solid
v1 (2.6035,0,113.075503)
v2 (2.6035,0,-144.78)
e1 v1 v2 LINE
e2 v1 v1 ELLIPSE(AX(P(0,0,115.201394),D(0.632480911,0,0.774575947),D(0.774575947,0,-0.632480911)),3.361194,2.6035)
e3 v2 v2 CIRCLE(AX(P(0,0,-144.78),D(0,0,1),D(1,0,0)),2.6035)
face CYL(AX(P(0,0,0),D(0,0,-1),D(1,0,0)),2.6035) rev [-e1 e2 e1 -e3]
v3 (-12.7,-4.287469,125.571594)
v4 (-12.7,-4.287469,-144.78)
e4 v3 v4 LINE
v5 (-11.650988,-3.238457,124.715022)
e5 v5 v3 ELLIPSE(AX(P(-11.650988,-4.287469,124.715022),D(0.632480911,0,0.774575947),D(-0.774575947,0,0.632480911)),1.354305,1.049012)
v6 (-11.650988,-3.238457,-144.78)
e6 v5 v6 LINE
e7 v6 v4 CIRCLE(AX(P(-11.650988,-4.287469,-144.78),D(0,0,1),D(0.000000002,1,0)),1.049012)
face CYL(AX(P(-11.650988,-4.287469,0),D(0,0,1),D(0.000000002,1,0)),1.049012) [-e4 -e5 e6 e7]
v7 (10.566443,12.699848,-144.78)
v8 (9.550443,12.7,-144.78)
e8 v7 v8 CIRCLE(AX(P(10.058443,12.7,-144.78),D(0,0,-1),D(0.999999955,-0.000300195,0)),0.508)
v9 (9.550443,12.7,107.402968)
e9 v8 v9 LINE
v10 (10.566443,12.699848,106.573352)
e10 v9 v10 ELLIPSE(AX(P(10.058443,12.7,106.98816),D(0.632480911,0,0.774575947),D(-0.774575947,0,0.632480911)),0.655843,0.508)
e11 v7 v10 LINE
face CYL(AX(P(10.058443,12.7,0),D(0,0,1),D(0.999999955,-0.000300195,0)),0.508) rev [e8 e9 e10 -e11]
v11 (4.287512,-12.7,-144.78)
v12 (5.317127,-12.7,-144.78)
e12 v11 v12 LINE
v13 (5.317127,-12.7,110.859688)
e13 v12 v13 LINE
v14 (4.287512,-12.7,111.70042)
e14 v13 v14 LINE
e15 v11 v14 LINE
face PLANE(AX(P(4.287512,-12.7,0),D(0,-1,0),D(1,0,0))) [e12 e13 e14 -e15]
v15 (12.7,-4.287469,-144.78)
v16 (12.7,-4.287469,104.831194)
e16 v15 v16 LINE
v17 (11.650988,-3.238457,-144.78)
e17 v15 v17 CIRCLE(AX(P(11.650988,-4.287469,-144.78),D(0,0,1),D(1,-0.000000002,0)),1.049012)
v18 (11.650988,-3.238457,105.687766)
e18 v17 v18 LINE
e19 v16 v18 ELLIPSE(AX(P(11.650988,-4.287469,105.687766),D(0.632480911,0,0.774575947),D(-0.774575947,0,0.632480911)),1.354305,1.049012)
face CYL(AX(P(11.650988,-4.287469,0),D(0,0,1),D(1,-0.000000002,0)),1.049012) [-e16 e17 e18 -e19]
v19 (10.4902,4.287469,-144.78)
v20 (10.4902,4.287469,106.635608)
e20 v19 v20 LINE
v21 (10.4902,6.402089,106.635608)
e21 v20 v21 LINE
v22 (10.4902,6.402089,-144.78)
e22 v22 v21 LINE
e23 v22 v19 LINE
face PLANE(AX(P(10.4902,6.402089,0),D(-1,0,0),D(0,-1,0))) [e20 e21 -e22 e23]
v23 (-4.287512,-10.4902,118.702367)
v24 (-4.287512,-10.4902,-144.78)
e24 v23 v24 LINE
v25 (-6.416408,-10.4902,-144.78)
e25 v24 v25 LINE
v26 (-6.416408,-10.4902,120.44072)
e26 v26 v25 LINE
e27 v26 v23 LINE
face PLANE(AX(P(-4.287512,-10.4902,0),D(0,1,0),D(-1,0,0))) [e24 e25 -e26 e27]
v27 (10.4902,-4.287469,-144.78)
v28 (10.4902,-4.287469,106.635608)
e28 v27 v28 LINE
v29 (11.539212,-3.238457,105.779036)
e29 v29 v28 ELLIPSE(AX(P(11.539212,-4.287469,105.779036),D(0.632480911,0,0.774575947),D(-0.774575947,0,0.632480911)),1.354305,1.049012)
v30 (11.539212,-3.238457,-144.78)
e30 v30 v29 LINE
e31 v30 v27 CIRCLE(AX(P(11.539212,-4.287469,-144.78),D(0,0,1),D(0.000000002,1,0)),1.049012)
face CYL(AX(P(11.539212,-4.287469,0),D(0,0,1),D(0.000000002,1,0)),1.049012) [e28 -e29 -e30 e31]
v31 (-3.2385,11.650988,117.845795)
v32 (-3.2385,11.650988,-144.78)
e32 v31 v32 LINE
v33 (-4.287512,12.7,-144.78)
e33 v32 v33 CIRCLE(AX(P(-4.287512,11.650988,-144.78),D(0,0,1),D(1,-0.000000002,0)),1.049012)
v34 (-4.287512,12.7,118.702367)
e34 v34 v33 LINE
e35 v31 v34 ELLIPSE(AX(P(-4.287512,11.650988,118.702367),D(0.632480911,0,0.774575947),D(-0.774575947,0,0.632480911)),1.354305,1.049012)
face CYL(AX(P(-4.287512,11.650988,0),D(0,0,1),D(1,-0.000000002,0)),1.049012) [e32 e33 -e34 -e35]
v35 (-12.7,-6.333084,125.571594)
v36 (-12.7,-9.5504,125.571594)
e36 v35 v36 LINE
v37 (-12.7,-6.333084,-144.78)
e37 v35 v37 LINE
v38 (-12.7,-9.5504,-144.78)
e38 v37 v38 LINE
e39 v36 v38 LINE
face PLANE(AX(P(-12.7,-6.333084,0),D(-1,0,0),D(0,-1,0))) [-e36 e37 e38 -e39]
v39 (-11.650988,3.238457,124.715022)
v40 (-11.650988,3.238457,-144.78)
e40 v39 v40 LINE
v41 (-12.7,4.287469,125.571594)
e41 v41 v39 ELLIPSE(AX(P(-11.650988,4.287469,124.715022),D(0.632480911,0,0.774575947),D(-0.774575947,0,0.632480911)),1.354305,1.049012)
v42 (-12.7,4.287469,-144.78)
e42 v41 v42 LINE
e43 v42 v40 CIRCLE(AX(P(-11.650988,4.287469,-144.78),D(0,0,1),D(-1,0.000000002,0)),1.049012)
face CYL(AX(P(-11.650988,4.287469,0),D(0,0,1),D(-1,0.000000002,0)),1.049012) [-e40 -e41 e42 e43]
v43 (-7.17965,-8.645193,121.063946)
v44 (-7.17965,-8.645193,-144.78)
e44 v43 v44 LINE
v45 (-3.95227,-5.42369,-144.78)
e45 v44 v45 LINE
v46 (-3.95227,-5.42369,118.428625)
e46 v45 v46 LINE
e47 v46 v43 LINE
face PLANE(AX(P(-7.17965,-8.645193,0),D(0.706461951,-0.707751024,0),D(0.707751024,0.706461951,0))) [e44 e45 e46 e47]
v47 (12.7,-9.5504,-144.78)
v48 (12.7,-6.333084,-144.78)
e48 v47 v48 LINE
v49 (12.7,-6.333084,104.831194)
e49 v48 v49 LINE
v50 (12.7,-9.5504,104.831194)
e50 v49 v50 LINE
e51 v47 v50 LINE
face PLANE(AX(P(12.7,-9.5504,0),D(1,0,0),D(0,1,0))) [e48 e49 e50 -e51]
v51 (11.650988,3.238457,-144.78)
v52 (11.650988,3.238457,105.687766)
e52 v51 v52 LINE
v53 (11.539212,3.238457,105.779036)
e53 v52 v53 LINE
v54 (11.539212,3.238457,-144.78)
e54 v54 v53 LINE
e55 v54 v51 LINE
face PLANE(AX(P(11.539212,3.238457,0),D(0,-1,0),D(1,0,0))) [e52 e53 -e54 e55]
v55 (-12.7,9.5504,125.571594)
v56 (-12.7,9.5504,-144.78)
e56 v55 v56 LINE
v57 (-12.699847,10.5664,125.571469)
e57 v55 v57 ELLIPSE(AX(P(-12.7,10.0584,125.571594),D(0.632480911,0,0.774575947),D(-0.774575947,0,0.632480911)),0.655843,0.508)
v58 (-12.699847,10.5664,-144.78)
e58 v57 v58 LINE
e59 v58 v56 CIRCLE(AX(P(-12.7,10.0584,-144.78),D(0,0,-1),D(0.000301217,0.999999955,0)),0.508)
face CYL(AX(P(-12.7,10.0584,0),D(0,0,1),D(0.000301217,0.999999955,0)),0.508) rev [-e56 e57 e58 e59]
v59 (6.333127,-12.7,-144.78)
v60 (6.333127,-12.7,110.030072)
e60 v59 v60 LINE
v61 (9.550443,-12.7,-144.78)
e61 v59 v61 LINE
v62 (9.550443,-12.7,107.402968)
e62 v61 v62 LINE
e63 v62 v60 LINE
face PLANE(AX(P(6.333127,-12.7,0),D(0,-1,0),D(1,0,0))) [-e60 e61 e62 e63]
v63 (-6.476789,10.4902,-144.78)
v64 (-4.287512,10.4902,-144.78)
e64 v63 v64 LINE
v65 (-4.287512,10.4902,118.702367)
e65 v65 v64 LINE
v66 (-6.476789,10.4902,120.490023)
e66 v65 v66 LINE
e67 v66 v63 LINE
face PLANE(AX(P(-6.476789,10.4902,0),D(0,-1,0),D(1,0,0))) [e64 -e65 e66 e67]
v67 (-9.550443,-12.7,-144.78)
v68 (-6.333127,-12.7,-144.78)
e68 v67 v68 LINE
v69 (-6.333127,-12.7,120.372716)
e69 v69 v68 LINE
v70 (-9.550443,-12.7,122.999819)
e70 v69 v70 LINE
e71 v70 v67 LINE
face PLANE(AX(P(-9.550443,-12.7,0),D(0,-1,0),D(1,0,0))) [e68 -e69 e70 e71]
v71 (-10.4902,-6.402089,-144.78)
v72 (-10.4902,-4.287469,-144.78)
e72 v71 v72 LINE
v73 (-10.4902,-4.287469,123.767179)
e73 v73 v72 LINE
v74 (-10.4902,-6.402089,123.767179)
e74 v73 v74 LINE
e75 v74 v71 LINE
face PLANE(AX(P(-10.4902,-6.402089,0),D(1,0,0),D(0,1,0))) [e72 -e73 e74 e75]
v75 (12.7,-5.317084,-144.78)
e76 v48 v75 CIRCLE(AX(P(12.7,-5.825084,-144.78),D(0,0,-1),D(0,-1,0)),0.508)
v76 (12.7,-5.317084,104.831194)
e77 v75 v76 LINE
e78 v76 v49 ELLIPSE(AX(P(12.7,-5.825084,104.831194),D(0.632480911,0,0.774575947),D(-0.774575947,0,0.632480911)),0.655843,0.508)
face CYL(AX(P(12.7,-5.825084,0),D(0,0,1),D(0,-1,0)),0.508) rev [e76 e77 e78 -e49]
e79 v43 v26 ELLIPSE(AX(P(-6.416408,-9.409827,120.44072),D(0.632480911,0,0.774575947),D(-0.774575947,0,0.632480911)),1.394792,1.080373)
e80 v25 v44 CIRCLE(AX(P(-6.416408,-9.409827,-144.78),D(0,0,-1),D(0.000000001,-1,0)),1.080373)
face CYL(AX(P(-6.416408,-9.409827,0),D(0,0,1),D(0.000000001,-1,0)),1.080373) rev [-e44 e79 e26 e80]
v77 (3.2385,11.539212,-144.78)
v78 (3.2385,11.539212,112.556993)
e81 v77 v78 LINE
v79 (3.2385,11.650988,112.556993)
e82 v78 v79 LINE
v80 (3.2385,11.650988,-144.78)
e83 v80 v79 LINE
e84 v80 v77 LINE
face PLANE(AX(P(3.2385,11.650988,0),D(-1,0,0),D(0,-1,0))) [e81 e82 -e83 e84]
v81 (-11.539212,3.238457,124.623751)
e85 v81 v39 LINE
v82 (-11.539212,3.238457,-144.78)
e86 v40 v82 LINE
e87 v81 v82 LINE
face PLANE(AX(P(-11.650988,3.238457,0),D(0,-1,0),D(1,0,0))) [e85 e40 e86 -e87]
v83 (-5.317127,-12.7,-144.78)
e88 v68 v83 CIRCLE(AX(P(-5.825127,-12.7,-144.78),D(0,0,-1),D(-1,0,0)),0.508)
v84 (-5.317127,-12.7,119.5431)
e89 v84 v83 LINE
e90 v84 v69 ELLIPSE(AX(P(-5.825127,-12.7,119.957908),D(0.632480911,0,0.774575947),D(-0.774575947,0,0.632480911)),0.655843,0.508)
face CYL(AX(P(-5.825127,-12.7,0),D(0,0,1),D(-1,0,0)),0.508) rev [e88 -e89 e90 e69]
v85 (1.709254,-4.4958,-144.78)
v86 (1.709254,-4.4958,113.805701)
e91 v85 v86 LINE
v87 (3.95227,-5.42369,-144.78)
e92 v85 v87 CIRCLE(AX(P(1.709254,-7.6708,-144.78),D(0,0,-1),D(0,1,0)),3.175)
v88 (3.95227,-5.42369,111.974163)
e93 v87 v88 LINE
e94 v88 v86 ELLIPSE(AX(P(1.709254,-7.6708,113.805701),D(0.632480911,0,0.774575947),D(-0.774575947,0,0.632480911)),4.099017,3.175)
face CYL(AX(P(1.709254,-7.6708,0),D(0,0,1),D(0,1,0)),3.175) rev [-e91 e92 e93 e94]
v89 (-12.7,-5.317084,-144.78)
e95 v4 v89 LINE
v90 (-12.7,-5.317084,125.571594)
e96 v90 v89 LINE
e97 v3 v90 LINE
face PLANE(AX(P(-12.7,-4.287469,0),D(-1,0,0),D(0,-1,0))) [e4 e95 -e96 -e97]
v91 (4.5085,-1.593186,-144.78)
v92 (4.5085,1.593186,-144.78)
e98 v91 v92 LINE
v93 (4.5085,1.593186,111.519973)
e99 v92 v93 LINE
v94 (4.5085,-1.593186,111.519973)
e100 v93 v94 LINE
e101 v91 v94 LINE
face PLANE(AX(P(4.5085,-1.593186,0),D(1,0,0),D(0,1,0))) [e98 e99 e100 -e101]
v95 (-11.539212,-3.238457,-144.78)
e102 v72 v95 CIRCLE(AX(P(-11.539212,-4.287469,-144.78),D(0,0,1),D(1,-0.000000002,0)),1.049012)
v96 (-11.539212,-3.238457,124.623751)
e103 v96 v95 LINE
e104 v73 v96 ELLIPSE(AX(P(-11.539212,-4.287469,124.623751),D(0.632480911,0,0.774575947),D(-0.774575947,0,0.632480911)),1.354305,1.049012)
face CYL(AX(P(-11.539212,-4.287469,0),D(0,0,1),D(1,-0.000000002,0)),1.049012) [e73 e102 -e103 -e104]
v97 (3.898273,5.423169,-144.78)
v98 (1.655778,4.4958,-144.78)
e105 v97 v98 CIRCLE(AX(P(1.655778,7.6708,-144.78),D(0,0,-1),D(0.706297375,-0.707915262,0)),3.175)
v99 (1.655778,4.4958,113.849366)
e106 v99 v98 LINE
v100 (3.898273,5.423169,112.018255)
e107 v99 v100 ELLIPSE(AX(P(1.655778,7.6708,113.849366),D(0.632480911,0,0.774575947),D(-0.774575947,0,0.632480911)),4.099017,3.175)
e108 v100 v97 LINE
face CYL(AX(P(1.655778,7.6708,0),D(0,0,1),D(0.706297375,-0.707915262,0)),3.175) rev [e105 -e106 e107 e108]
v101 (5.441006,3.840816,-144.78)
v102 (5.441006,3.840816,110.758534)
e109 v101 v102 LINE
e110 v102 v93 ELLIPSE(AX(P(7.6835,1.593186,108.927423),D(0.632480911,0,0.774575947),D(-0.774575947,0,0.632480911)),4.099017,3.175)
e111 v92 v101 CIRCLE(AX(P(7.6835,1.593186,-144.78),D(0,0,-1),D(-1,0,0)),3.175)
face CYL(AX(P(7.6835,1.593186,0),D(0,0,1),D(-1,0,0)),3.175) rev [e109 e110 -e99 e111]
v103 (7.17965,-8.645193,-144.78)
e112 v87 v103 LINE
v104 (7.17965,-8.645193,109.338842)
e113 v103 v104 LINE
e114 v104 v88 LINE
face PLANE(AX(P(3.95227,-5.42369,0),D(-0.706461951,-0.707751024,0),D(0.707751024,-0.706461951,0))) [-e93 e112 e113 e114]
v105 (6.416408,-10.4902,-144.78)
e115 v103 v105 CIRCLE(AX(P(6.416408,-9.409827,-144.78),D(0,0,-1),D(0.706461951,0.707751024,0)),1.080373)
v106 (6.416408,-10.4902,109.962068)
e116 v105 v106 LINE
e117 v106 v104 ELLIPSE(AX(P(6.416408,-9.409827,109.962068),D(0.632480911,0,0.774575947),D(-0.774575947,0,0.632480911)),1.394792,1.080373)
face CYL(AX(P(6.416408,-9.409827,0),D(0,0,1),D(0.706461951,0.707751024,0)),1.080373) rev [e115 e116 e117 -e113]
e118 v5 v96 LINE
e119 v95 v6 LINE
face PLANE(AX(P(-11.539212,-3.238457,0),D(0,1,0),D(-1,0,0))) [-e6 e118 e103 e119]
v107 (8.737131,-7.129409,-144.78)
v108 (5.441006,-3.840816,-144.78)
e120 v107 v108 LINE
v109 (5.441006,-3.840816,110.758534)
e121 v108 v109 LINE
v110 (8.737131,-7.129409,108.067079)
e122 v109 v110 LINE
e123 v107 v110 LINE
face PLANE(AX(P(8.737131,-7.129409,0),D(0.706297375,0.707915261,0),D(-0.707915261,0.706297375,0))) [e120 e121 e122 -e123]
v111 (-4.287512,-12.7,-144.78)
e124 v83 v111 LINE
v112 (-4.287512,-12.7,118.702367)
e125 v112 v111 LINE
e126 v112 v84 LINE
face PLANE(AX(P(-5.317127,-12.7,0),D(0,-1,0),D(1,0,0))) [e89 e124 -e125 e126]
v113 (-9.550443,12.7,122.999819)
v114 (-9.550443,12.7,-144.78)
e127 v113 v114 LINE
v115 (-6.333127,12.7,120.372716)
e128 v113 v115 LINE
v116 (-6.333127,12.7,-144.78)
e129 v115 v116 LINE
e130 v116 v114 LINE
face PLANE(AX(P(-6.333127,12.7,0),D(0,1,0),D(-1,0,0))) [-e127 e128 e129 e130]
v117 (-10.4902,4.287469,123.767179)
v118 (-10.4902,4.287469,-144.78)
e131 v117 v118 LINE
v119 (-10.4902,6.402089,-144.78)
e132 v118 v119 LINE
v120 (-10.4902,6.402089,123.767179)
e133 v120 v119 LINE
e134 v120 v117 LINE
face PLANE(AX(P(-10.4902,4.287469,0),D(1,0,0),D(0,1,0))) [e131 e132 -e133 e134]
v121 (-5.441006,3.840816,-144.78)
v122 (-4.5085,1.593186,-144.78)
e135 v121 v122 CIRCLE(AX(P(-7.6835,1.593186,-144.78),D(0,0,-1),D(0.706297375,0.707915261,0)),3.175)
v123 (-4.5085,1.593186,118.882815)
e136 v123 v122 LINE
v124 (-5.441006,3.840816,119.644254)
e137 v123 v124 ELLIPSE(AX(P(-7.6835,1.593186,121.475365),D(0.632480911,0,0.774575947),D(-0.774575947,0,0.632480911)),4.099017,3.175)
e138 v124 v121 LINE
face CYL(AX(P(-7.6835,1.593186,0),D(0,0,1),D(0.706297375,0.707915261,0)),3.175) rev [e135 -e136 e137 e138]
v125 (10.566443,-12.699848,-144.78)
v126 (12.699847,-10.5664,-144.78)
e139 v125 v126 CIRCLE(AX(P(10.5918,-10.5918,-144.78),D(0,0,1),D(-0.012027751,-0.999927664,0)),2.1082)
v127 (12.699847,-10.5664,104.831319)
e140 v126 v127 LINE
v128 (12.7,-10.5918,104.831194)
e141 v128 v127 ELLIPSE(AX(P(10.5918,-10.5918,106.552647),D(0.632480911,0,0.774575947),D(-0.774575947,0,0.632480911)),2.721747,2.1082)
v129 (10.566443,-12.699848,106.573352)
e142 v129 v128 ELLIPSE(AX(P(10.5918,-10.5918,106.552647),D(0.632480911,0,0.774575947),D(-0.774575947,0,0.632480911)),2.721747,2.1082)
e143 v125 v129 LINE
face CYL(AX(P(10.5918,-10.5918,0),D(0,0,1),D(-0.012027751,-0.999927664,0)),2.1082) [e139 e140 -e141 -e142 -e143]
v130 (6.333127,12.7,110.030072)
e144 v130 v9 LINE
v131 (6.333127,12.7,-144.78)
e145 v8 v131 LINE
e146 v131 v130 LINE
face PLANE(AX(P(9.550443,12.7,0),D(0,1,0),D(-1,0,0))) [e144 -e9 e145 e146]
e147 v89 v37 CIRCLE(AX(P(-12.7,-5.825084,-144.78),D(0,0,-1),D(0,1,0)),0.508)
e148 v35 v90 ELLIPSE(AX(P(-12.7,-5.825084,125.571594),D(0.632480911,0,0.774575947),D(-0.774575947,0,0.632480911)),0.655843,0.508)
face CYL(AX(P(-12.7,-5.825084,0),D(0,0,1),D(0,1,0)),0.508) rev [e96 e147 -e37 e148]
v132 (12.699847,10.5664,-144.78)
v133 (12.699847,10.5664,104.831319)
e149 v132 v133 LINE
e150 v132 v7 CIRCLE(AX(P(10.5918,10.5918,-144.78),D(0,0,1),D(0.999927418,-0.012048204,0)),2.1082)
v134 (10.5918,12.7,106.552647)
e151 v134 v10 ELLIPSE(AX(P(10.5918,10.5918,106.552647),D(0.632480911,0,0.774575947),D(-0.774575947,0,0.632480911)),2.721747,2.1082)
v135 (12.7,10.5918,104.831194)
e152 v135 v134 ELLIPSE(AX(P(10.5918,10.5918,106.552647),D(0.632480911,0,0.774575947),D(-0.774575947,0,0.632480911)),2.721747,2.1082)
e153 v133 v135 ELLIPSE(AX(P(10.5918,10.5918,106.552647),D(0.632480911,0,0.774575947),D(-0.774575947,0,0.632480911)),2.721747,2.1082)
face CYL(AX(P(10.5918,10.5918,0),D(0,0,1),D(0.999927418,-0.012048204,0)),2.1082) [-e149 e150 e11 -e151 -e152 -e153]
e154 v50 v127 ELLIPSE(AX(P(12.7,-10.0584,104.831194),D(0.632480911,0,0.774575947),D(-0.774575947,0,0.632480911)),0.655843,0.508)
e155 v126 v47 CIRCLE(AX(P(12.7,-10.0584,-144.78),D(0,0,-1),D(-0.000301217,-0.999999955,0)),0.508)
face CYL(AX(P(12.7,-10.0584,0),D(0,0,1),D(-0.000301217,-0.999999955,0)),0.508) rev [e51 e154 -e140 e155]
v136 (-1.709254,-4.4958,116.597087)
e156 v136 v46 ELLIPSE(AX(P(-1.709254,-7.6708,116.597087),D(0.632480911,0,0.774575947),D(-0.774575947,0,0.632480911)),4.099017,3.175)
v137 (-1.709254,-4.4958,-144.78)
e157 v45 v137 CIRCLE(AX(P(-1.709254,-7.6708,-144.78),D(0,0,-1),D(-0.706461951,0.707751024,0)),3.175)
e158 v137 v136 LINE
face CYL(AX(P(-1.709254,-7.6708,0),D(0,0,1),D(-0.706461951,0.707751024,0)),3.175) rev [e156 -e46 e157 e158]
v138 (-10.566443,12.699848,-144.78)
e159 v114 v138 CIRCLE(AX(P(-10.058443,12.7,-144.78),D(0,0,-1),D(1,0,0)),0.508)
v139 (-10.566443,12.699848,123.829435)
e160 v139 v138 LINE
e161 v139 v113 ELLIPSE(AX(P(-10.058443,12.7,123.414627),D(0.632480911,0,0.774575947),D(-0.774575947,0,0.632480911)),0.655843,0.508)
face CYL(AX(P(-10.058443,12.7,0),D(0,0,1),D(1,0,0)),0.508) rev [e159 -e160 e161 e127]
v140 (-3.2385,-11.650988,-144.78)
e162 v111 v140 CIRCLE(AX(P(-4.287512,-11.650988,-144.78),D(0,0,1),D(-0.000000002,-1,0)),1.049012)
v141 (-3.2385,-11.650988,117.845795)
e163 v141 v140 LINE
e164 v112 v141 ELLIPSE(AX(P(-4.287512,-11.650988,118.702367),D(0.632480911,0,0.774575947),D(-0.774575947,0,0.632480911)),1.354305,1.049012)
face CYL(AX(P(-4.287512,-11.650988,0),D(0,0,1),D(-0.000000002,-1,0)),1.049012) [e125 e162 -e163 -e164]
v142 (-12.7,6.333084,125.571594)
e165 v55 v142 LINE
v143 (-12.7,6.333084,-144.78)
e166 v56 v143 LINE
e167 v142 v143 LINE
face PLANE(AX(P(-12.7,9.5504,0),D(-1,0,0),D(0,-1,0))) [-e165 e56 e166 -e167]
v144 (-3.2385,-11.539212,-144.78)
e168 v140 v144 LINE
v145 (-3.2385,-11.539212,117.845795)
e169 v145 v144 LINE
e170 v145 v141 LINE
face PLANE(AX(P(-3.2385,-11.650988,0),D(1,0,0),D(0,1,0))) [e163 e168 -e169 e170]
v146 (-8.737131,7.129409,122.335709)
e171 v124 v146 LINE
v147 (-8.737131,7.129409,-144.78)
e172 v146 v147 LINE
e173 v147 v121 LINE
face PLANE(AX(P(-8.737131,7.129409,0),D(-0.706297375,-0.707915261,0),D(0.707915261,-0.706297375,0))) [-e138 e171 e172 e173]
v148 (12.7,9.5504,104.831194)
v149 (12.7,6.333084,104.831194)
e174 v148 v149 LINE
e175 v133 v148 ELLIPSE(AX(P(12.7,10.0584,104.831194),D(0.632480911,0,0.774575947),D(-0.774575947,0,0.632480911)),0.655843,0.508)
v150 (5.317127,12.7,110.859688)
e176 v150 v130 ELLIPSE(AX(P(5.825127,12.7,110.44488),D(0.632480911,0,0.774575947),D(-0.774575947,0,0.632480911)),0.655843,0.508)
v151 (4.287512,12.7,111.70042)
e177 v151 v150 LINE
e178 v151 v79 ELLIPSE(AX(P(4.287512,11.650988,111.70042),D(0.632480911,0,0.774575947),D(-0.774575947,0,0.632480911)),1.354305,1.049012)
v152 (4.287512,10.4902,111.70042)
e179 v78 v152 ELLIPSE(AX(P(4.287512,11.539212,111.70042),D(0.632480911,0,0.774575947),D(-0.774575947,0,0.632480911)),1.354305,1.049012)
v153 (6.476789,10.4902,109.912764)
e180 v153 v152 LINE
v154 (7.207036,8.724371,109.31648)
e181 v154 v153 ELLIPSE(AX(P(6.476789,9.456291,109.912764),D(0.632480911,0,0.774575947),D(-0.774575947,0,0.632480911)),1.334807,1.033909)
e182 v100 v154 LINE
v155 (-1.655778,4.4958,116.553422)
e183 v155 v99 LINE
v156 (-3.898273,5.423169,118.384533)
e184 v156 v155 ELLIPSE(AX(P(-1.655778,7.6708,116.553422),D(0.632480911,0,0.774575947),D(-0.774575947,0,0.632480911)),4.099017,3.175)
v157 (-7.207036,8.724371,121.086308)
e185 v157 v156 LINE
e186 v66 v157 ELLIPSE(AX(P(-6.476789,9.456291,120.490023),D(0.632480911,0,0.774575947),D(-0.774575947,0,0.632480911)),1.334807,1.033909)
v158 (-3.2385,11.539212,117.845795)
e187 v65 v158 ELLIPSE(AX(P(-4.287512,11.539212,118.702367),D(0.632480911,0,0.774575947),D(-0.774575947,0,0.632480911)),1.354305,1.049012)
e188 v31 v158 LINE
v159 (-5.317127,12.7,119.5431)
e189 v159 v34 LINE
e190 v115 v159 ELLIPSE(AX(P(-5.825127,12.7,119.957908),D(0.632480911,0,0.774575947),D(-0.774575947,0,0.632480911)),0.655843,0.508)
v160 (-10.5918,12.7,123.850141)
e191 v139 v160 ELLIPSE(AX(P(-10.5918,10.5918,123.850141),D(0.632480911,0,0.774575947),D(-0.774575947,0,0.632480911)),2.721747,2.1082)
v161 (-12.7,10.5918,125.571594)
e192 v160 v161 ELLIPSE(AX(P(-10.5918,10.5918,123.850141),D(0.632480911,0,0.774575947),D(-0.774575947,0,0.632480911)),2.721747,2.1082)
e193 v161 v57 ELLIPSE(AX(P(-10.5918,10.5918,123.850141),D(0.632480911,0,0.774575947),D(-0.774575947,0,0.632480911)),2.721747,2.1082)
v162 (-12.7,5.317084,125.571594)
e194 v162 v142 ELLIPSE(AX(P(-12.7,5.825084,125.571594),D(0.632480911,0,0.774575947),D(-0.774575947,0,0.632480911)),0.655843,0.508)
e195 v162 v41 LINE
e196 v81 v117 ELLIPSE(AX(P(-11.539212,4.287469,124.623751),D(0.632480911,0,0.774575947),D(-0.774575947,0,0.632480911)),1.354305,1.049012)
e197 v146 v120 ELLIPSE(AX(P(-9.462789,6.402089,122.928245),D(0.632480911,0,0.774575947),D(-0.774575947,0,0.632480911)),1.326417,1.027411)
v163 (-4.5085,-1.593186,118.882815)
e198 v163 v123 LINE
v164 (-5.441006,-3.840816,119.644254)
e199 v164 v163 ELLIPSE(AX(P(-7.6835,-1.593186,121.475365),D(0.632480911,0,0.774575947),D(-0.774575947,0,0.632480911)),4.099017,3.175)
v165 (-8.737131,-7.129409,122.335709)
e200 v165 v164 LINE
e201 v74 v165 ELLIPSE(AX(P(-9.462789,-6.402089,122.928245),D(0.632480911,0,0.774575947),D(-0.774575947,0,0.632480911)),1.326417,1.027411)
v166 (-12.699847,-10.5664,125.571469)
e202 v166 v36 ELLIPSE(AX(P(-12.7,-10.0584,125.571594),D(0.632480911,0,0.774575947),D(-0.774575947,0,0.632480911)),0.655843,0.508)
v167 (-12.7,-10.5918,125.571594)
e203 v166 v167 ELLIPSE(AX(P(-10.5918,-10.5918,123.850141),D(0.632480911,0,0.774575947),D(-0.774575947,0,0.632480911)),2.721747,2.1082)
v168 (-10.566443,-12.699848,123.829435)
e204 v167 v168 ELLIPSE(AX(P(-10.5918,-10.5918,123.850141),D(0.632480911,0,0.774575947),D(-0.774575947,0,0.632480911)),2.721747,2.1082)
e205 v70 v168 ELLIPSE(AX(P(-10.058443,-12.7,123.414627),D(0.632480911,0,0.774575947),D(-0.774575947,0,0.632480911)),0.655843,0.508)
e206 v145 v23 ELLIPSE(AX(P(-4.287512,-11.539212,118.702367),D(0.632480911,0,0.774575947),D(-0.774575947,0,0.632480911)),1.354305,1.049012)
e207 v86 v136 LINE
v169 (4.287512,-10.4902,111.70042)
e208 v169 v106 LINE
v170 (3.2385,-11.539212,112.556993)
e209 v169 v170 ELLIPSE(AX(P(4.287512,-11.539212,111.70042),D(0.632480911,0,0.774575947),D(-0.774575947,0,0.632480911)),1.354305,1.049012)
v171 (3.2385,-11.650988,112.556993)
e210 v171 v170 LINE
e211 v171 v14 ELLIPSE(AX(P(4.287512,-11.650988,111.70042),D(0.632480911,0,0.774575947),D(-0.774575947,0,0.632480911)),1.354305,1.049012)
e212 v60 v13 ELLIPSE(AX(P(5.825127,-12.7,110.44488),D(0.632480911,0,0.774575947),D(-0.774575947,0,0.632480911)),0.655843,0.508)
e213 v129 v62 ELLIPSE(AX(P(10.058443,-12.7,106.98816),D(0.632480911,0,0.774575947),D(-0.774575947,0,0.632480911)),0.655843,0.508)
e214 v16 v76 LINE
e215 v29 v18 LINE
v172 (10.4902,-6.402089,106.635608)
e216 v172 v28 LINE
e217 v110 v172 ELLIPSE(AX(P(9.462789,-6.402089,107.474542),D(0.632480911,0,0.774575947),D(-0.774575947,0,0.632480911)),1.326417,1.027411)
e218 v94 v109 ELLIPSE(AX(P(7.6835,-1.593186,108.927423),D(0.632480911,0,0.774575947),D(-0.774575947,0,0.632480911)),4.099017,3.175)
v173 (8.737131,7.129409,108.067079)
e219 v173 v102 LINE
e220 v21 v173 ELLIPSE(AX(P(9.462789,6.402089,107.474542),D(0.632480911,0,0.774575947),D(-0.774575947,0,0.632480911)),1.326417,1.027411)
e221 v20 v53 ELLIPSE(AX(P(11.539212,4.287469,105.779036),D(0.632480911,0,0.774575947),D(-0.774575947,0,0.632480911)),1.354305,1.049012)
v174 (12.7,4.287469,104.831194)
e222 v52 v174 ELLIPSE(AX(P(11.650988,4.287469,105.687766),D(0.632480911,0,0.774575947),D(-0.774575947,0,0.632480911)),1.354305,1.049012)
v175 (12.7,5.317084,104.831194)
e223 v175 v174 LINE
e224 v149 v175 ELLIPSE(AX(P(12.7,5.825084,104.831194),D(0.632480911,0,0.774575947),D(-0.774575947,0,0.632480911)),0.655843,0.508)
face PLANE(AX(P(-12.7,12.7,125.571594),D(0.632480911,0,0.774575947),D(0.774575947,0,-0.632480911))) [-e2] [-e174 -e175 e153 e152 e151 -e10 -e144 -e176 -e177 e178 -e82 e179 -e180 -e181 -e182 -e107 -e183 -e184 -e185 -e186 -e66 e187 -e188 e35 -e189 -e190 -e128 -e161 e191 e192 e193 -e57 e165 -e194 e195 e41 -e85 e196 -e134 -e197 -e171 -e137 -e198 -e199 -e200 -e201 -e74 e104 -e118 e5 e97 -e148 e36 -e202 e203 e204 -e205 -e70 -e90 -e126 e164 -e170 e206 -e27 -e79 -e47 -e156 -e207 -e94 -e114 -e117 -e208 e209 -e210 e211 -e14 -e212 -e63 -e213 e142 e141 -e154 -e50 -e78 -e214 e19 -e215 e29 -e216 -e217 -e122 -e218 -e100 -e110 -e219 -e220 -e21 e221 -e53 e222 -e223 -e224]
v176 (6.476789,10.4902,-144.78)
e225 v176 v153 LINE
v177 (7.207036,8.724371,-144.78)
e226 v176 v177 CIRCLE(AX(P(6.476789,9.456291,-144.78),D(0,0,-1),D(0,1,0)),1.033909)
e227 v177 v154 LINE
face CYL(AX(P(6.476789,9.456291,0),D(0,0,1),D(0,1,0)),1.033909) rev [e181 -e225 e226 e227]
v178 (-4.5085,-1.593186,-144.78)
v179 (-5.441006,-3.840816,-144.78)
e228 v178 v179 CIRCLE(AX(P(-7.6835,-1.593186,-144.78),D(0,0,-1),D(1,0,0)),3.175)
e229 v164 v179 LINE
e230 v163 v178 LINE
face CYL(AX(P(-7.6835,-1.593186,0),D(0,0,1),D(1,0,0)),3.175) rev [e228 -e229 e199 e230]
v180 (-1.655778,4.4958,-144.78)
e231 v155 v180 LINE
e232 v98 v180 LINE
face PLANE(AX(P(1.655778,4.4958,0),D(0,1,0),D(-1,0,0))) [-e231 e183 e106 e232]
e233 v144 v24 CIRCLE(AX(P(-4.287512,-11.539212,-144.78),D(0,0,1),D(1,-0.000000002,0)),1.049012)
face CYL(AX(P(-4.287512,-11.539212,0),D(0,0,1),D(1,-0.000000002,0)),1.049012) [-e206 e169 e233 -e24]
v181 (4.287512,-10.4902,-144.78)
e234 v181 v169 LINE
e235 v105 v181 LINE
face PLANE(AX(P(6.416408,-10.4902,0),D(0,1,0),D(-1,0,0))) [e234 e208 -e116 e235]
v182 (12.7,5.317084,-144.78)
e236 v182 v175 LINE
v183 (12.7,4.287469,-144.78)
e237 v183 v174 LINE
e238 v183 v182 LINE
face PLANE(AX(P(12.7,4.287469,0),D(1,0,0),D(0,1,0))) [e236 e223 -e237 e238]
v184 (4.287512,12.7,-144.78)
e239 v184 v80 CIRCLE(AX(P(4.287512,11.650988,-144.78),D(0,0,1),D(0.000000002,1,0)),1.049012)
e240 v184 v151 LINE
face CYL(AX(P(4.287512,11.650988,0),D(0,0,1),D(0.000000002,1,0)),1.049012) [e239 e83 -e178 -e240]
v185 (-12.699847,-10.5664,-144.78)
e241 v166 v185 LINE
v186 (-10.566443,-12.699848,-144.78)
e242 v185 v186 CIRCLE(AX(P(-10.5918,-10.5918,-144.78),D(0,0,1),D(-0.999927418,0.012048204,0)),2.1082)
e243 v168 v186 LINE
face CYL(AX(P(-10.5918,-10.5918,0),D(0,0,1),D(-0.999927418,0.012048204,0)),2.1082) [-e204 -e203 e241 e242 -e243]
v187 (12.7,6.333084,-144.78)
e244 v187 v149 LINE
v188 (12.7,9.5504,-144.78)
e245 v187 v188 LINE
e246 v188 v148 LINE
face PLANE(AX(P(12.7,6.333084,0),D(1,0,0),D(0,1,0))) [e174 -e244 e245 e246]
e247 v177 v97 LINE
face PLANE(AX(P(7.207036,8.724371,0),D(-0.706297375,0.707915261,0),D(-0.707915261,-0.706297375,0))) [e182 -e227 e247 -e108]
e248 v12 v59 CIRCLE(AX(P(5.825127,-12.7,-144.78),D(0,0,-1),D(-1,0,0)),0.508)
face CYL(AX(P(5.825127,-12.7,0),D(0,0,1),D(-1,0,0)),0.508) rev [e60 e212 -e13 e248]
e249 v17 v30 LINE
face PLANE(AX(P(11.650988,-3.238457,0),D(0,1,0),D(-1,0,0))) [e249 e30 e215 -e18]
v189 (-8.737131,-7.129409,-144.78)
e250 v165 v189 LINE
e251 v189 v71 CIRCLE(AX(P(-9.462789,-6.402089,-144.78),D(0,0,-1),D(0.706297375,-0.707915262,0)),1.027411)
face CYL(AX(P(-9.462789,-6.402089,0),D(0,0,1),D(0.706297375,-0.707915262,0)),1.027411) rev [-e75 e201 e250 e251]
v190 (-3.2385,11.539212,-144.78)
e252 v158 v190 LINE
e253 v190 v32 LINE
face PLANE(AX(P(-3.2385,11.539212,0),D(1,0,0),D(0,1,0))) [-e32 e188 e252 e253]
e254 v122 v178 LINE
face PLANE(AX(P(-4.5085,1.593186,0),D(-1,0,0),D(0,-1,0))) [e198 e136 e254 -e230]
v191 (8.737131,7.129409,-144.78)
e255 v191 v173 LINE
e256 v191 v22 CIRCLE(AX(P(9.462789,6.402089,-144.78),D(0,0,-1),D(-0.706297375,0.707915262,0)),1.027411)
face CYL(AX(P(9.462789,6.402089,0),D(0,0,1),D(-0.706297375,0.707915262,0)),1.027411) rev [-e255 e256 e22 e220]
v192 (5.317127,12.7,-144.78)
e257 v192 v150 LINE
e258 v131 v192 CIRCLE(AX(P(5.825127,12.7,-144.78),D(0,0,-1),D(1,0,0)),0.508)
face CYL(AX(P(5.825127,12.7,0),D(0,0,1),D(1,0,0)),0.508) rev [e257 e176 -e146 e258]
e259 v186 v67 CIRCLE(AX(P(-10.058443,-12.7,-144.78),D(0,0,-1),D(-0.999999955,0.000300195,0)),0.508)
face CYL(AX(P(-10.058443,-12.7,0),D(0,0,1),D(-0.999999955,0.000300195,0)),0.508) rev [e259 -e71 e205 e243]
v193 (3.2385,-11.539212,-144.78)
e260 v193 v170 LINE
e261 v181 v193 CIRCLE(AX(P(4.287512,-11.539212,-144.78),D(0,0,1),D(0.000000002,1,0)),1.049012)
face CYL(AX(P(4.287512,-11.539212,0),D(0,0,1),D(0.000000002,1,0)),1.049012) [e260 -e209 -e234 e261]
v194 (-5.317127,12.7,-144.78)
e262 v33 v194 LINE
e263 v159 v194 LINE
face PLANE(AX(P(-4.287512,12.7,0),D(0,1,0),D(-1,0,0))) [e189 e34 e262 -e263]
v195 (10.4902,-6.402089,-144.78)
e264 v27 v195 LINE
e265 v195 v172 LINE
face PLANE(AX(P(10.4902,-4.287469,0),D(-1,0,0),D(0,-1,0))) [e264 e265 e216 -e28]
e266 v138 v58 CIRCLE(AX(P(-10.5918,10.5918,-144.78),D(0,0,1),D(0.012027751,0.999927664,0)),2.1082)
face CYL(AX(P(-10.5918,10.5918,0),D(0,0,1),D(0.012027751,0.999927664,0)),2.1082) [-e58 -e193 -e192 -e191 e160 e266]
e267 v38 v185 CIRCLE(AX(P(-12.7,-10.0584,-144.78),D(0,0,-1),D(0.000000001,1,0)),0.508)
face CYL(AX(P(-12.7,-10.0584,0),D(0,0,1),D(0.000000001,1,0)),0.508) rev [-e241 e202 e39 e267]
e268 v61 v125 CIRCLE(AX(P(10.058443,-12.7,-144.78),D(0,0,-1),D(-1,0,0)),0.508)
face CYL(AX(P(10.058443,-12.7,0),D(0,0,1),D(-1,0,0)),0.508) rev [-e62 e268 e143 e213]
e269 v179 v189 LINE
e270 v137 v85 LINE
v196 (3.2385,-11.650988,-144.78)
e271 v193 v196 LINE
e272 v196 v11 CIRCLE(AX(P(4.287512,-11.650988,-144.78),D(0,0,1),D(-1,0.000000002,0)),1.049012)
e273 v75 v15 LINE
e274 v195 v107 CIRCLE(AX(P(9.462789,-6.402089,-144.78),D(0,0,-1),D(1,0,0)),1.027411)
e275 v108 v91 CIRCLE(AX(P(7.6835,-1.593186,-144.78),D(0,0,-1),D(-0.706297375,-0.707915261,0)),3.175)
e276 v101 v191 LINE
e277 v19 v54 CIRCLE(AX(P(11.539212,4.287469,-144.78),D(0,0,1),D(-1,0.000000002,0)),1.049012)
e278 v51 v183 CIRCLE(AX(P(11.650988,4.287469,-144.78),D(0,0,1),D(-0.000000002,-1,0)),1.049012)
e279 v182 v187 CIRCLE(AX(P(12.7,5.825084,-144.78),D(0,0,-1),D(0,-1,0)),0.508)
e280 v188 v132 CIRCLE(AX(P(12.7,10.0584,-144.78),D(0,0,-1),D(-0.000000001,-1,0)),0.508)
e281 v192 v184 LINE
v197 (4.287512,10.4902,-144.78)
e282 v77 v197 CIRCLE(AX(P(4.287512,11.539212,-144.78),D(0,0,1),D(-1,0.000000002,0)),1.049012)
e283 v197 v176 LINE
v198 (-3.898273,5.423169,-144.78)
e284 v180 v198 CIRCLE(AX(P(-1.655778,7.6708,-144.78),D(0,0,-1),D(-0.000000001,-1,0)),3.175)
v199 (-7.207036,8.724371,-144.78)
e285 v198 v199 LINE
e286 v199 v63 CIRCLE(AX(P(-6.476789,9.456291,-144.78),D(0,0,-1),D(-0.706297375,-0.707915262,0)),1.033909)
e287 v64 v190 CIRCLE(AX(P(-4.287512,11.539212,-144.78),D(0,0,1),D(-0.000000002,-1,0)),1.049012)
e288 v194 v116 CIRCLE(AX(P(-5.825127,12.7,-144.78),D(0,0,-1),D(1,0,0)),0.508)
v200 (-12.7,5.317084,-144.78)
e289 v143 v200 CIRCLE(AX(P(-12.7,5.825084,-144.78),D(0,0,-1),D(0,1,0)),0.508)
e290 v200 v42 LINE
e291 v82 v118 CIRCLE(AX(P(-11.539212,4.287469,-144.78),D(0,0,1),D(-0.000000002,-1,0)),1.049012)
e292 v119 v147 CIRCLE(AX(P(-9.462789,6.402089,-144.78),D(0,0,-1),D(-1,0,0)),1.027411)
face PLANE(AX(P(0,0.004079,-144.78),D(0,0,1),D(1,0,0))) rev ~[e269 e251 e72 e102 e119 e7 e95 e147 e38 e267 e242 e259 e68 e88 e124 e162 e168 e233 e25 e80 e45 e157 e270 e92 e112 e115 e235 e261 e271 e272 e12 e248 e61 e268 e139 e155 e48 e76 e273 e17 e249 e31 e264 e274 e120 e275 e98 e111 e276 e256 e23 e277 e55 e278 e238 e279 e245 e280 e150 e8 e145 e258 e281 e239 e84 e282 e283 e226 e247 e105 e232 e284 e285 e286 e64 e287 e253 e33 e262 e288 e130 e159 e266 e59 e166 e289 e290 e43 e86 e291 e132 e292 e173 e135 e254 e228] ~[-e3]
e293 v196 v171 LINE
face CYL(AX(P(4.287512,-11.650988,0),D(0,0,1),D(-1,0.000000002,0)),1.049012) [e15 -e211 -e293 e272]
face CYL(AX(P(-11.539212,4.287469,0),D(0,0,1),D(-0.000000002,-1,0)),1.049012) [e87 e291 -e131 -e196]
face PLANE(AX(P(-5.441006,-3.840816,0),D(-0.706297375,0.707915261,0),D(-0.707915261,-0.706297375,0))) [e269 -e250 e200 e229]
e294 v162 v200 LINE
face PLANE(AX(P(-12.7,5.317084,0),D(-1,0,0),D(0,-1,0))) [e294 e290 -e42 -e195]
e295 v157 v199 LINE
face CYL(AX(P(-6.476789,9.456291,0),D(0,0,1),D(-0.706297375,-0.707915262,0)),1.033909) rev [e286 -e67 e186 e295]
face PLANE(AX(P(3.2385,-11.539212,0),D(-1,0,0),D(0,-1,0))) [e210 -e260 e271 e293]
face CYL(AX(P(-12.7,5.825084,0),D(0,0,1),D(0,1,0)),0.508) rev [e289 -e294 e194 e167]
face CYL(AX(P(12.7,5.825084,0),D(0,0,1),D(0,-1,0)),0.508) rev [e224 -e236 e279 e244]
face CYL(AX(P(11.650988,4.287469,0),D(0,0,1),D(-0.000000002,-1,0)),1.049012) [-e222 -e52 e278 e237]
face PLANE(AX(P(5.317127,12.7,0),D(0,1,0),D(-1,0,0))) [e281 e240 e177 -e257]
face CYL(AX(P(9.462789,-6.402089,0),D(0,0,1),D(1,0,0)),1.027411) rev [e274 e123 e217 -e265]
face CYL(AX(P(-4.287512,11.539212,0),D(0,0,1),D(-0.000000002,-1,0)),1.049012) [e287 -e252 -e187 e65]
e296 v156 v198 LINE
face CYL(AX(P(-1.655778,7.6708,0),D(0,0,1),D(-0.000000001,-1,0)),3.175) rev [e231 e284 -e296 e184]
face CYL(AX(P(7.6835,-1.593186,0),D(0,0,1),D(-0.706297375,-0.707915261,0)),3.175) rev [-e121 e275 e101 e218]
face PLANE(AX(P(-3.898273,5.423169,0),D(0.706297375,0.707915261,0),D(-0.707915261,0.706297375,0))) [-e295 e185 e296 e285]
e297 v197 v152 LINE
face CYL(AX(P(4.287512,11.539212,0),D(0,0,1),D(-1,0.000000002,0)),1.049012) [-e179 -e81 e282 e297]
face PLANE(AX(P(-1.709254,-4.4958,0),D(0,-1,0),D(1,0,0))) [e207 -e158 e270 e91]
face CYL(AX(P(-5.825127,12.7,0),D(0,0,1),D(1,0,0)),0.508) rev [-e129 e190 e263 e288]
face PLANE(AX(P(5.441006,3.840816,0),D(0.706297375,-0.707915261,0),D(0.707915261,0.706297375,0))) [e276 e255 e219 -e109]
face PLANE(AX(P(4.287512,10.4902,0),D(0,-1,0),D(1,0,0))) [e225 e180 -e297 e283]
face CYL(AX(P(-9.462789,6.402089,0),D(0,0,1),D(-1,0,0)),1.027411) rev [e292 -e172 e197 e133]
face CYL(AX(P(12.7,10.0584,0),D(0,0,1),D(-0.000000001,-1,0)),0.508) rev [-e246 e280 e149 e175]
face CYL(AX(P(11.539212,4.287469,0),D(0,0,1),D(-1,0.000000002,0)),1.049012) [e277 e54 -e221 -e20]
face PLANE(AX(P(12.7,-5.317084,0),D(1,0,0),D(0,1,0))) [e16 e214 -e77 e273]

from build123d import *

# Parameters (mm, degrees)
SKETCH1_R           = 2.6035
BOSS_EXTRUDE1_DEPTH = 144.78
CUT_EXTRUDE1_DEPTH  = 148.538803032


with BuildPart() as part:
    # Sketch1 → Boss-Extrude1 (new, symmetric)
    with BuildSketch(Plane.XY):
        with BuildLine():
            Line((-7.179650497, -8.645192506), (-3.952270251, -5.423690499))
            ThreePointArc((-3.952270251, -5.423690499), (-2.922936451, -4.736929036), (-1.709253557, -4.4958))
            Line((-1.709253557, -4.4958), (1.709253557, -4.4958))
            ThreePointArc((1.709253557, -4.4958), (2.922936451, -4.736929036), (3.952270251, -5.423690499))
            Line((3.952270251, -5.423690499), (7.179650497, -8.645192506))
            ThreePointArc((7.179650497, -8.645192506), (7.41473083, -9.822813117), (6.416408329, -10.4902))
            Line((6.416408329, -10.4902), (4.287512407, -10.4902))
            ThreePointArc((4.287512407, -10.4902), (3.54574862, -10.79744862), (3.2385, -11.539212407))
            Line((3.2385, -11.539212407), (3.2385, -11.650987593))
            ThreePointArc((3.2385, -11.650987593), (3.54574862, -12.39275138), (4.287512407, -12.7))
            Line((4.287512407, -12.7), (5.317126718, -12.7))
            ThreePointArc((5.317126718, -12.7), (5.825126718, -12.192), (6.333126718, -12.7))
            Line((6.333126718, -12.7), (9.550443118, -12.7))
            ThreePointArc((9.550443118, -12.7), (10.058366869, -12.192000006), (10.566443095, -12.699847501))
            ThreePointArc((10.566443095, -12.699847501), (12.082537762, -12.08250727), (12.699846982, -10.566399977))
            ThreePointArc((12.699846982, -10.566399977), (12.192000006, -10.058323491), (12.7, -9.5504))
            Line((12.7, -9.5504), (12.7, -6.3330836))
            ThreePointArc((12.7, -6.3330836), (12.192, -5.8250836), (12.7, -5.3170836))
            Line((12.7, -5.3170836), (12.7, -4.287469289))
            ThreePointArc((12.7, -4.287469289), (12.39275138, -3.545705502), (11.650987593, -3.238456882))
            Line((11.650987593, -3.238456882), (11.539212407, -3.238456882))
            ThreePointArc((11.539212407, -3.238456882), (10.79744862, -3.545705502), (10.4902, -4.287469289))
            Line((10.4902, -4.287469289), (10.4902, -6.402089023))
            ThreePointArc((10.4902, -6.402089023), (9.856505071, -7.351067942), (8.737131347, -7.129408934))
            Line((8.737131347, -7.129408934), (5.441005833, -3.840816462))
            ThreePointArc((5.441005833, -3.840816462), (4.750877967, -2.809883091), (4.5085, -1.593185507))
            Line((4.5085, -1.593185507), (4.5085, 1.593185507))
            ThreePointArc((4.5085, 1.593185507), (4.750877967, 2.809883091), (5.441005833, 3.840816462))
            Line((5.441005833, 3.840816462), (8.737131347, 7.129408934))
            ThreePointArc((8.737131347, 7.129408934), (9.856505071, 7.351067942), (10.4902, 6.402089023))
            Line((10.4902, 6.402089023), (10.4902, 4.287469289))
            ThreePointArc((10.4902, 4.287469289), (10.79744862, 3.545705502), (11.539212407, 3.238456882))
            Line((11.539212407, 3.238456882), (11.650987593, 3.238456882))
            ThreePointArc((11.650987593, 3.238456882), (12.39275138, 3.545705502), (12.7, 4.287469289))
            Line((12.7, 4.287469289), (12.7, 5.3170836))
            ThreePointArc((12.7, 5.3170836), (12.192, 5.8250836), (12.7, 6.3330836))
            Line((12.7, 6.3330836), (12.7, 9.5504))
            ThreePointArc((12.7, 9.5504), (12.192000006, 10.058323491), (12.699846982, 10.566399977))
            ThreePointArc((12.699846982, 10.566399977), (12.082537762, 12.08250727), (10.566443095, 12.699847501))
            ThreePointArc((10.566443095, 12.699847501), (10.058366869, 12.192000006), (9.550443118, 12.7))
            Line((9.550443118, 12.7), (6.333126718, 12.7))
            ThreePointArc((6.333126718, 12.7), (5.825126718, 12.192), (5.317126718, 12.7))
            Line((5.317126718, 12.7), (4.287512407, 12.7))
            ThreePointArc((4.287512407, 12.7), (3.54574862, 12.39275138), (3.2385, 11.650987593))
            Line((3.2385, 11.650987593), (3.2385, 11.539212407))
            ThreePointArc((3.2385, 11.539212407), (3.54574862, 10.79744862), (4.287512407, 10.4902))
            Line((4.287512407, 10.4902), (6.476788598, 10.4902))
            ThreePointArc((6.476788598, 10.4902), (7.432222385, 9.85140422), (7.207036008, 8.724370562))
            Line((7.207036008, 8.724370562), (3.898272566, 5.423169045))
            ThreePointArc((3.898272566, 5.423169045), (2.869120213, 4.736787962), (1.655778399, 4.4958))
            Line((1.655778399, 4.4958), (-1.655778399, 4.4958))
            ThreePointArc((-1.655778399, 4.4958), (-2.869120213, 4.736787962), (-3.898272566, 5.423169045))
            Line((-3.898272566, 5.423169045), (-7.207036008, 8.724370562))
            ThreePointArc((-7.207036008, 8.724370562), (-7.432222385, 9.85140422), (-6.476788598, 10.4902))
            Line((-6.476788598, 10.4902), (-4.287512407, 10.4902))
            ThreePointArc((-4.287512407, 10.4902), (-3.54574862, 10.79744862), (-3.2385, 11.539212407))
            Line((-3.2385, 11.539212407), (-3.2385, 11.650987593))
            ThreePointArc((-3.2385, 11.650987593), (-3.54574862, 12.39275138), (-4.287512407, 12.7))
            Line((-4.287512407, 12.7), (-5.317126718, 12.7))
            ThreePointArc((-5.317126718, 12.7), (-5.825126718, 12.192), (-6.333126718, 12.7))
            Line((-6.333126718, 12.7), (-9.550443118, 12.7))
            ThreePointArc((-9.550443118, 12.7), (-10.058366869, 12.192000006), (-10.566443095, 12.699847501))
            ThreePointArc((-10.566443095, 12.699847501), (-12.082537762, 12.08250727), (-12.699846982, 10.566399977))
            ThreePointArc((-12.699846982, 10.566399977), (-12.192000006, 10.058323491), (-12.7, 9.5504))
            Line((-12.7, 9.5504), (-12.7, 6.3330836))
            ThreePointArc((-12.7, 6.3330836), (-12.192, 5.8250836), (-12.7, 5.3170836))
            Line((-12.7, 5.3170836), (-12.7, 4.287469289))
            ThreePointArc((-12.7, 4.287469289), (-12.39275138, 3.545705502), (-11.650987593, 3.238456882))
            Line((-11.650987593, 3.238456882), (-11.539212407, 3.238456882))
            ThreePointArc((-11.539212407, 3.238456882), (-10.79744862, 3.545705502), (-10.4902, 4.287469289))
            Line((-10.4902, 4.287469289), (-10.4902, 6.402089023))
            ThreePointArc((-10.4902, 6.402089023), (-9.856505071, 7.351067942), (-8.737131347, 7.129408934))
            Line((-8.737131347, 7.129408934), (-5.441005833, 3.840816462))
            ThreePointArc((-5.441005833, 3.840816462), (-4.750877967, 2.809883091), (-4.5085, 1.593185507))
            Line((-4.5085, 1.593185507), (-4.5085, -1.593185507))
            ThreePointArc((-4.5085, -1.593185507), (-4.750877967, -2.809883091), (-5.441005833, -3.840816462))
            Line((-5.441005833, -3.840816462), (-8.737131347, -7.129408934))
            ThreePointArc((-8.737131347, -7.129408934), (-9.856505071, -7.351067942), (-10.4902, -6.402089023))
            Line((-10.4902, -6.402089023), (-10.4902, -4.287469289))
            ThreePointArc((-10.4902, -4.287469289), (-10.79744862, -3.545705502), (-11.539212407, -3.238456882))
            Line((-11.539212407, -3.238456882), (-11.650987593, -3.238456882))
            ThreePointArc((-11.650987593, -3.238456882), (-12.39275138, -3.545705502), (-12.7, -4.287469289))
            Line((-12.7, -4.287469289), (-12.7, -5.3170836))
            ThreePointArc((-12.7, -5.3170836), (-12.192, -5.8250836), (-12.7, -6.3330836))
            Line((-12.7, -6.3330836), (-12.7, -9.5504))
            ThreePointArc((-12.7, -9.5504), (-12.192000006, -10.058323491), (-12.699846982, -10.566399977))
            ThreePointArc((-12.699846982, -10.566399977), (-12.082537762, -12.08250727), (-10.566443095, -12.699847501))
            ThreePointArc((-10.566443095, -12.699847501), (-10.058366869, -12.192000006), (-9.550443118, -12.7))
            Line((-9.550443118, -12.7), (-6.333126718, -12.7))
            ThreePointArc((-6.333126718, -12.7), (-5.825126718, -12.192), (-5.317126718, -12.7))
            Line((-5.317126718, -12.7), (-4.287512407, -12.7))
            ThreePointArc((-4.287512407, -12.7), (-3.54574862, -12.39275138), (-3.2385, -11.650987593))
            Line((-3.2385, -11.650987593), (-3.2385, -11.539212407))
            ThreePointArc((-3.2385, -11.539212407), (-3.54574862, -10.79744862), (-4.287512407, -10.4902))
            Line((-4.287512407, -10.4902), (-6.416408329, -10.4902))
            ThreePointArc((-6.416408329, -10.4902), (-7.41473083, -9.822813117), (-7.179650497, -8.645192506))
        make_face()
        Circle(SKETCH1_R, mode=Mode.SUBTRACT)
    extrude(amount=BOSS_EXTRUDE1_DEPTH, both=True)

    # Sketch2 → Cut-Extrude1 (cut, through all)
    with BuildSketch(Plane(origin=(0, 12.7, 0), x_dir=(1, 0, 0), z_dir=(0, 1, 0))):
        Polygon((12.7, -144.78), (-12.7, -144.78), (-12.7, -125.571593893), (12.7, -104.831193661), align=None)
    extrude(amount=-CUT_EXTRUDE1_DEPTH, mode=Mode.SUBTRACT)


solid = part.part
